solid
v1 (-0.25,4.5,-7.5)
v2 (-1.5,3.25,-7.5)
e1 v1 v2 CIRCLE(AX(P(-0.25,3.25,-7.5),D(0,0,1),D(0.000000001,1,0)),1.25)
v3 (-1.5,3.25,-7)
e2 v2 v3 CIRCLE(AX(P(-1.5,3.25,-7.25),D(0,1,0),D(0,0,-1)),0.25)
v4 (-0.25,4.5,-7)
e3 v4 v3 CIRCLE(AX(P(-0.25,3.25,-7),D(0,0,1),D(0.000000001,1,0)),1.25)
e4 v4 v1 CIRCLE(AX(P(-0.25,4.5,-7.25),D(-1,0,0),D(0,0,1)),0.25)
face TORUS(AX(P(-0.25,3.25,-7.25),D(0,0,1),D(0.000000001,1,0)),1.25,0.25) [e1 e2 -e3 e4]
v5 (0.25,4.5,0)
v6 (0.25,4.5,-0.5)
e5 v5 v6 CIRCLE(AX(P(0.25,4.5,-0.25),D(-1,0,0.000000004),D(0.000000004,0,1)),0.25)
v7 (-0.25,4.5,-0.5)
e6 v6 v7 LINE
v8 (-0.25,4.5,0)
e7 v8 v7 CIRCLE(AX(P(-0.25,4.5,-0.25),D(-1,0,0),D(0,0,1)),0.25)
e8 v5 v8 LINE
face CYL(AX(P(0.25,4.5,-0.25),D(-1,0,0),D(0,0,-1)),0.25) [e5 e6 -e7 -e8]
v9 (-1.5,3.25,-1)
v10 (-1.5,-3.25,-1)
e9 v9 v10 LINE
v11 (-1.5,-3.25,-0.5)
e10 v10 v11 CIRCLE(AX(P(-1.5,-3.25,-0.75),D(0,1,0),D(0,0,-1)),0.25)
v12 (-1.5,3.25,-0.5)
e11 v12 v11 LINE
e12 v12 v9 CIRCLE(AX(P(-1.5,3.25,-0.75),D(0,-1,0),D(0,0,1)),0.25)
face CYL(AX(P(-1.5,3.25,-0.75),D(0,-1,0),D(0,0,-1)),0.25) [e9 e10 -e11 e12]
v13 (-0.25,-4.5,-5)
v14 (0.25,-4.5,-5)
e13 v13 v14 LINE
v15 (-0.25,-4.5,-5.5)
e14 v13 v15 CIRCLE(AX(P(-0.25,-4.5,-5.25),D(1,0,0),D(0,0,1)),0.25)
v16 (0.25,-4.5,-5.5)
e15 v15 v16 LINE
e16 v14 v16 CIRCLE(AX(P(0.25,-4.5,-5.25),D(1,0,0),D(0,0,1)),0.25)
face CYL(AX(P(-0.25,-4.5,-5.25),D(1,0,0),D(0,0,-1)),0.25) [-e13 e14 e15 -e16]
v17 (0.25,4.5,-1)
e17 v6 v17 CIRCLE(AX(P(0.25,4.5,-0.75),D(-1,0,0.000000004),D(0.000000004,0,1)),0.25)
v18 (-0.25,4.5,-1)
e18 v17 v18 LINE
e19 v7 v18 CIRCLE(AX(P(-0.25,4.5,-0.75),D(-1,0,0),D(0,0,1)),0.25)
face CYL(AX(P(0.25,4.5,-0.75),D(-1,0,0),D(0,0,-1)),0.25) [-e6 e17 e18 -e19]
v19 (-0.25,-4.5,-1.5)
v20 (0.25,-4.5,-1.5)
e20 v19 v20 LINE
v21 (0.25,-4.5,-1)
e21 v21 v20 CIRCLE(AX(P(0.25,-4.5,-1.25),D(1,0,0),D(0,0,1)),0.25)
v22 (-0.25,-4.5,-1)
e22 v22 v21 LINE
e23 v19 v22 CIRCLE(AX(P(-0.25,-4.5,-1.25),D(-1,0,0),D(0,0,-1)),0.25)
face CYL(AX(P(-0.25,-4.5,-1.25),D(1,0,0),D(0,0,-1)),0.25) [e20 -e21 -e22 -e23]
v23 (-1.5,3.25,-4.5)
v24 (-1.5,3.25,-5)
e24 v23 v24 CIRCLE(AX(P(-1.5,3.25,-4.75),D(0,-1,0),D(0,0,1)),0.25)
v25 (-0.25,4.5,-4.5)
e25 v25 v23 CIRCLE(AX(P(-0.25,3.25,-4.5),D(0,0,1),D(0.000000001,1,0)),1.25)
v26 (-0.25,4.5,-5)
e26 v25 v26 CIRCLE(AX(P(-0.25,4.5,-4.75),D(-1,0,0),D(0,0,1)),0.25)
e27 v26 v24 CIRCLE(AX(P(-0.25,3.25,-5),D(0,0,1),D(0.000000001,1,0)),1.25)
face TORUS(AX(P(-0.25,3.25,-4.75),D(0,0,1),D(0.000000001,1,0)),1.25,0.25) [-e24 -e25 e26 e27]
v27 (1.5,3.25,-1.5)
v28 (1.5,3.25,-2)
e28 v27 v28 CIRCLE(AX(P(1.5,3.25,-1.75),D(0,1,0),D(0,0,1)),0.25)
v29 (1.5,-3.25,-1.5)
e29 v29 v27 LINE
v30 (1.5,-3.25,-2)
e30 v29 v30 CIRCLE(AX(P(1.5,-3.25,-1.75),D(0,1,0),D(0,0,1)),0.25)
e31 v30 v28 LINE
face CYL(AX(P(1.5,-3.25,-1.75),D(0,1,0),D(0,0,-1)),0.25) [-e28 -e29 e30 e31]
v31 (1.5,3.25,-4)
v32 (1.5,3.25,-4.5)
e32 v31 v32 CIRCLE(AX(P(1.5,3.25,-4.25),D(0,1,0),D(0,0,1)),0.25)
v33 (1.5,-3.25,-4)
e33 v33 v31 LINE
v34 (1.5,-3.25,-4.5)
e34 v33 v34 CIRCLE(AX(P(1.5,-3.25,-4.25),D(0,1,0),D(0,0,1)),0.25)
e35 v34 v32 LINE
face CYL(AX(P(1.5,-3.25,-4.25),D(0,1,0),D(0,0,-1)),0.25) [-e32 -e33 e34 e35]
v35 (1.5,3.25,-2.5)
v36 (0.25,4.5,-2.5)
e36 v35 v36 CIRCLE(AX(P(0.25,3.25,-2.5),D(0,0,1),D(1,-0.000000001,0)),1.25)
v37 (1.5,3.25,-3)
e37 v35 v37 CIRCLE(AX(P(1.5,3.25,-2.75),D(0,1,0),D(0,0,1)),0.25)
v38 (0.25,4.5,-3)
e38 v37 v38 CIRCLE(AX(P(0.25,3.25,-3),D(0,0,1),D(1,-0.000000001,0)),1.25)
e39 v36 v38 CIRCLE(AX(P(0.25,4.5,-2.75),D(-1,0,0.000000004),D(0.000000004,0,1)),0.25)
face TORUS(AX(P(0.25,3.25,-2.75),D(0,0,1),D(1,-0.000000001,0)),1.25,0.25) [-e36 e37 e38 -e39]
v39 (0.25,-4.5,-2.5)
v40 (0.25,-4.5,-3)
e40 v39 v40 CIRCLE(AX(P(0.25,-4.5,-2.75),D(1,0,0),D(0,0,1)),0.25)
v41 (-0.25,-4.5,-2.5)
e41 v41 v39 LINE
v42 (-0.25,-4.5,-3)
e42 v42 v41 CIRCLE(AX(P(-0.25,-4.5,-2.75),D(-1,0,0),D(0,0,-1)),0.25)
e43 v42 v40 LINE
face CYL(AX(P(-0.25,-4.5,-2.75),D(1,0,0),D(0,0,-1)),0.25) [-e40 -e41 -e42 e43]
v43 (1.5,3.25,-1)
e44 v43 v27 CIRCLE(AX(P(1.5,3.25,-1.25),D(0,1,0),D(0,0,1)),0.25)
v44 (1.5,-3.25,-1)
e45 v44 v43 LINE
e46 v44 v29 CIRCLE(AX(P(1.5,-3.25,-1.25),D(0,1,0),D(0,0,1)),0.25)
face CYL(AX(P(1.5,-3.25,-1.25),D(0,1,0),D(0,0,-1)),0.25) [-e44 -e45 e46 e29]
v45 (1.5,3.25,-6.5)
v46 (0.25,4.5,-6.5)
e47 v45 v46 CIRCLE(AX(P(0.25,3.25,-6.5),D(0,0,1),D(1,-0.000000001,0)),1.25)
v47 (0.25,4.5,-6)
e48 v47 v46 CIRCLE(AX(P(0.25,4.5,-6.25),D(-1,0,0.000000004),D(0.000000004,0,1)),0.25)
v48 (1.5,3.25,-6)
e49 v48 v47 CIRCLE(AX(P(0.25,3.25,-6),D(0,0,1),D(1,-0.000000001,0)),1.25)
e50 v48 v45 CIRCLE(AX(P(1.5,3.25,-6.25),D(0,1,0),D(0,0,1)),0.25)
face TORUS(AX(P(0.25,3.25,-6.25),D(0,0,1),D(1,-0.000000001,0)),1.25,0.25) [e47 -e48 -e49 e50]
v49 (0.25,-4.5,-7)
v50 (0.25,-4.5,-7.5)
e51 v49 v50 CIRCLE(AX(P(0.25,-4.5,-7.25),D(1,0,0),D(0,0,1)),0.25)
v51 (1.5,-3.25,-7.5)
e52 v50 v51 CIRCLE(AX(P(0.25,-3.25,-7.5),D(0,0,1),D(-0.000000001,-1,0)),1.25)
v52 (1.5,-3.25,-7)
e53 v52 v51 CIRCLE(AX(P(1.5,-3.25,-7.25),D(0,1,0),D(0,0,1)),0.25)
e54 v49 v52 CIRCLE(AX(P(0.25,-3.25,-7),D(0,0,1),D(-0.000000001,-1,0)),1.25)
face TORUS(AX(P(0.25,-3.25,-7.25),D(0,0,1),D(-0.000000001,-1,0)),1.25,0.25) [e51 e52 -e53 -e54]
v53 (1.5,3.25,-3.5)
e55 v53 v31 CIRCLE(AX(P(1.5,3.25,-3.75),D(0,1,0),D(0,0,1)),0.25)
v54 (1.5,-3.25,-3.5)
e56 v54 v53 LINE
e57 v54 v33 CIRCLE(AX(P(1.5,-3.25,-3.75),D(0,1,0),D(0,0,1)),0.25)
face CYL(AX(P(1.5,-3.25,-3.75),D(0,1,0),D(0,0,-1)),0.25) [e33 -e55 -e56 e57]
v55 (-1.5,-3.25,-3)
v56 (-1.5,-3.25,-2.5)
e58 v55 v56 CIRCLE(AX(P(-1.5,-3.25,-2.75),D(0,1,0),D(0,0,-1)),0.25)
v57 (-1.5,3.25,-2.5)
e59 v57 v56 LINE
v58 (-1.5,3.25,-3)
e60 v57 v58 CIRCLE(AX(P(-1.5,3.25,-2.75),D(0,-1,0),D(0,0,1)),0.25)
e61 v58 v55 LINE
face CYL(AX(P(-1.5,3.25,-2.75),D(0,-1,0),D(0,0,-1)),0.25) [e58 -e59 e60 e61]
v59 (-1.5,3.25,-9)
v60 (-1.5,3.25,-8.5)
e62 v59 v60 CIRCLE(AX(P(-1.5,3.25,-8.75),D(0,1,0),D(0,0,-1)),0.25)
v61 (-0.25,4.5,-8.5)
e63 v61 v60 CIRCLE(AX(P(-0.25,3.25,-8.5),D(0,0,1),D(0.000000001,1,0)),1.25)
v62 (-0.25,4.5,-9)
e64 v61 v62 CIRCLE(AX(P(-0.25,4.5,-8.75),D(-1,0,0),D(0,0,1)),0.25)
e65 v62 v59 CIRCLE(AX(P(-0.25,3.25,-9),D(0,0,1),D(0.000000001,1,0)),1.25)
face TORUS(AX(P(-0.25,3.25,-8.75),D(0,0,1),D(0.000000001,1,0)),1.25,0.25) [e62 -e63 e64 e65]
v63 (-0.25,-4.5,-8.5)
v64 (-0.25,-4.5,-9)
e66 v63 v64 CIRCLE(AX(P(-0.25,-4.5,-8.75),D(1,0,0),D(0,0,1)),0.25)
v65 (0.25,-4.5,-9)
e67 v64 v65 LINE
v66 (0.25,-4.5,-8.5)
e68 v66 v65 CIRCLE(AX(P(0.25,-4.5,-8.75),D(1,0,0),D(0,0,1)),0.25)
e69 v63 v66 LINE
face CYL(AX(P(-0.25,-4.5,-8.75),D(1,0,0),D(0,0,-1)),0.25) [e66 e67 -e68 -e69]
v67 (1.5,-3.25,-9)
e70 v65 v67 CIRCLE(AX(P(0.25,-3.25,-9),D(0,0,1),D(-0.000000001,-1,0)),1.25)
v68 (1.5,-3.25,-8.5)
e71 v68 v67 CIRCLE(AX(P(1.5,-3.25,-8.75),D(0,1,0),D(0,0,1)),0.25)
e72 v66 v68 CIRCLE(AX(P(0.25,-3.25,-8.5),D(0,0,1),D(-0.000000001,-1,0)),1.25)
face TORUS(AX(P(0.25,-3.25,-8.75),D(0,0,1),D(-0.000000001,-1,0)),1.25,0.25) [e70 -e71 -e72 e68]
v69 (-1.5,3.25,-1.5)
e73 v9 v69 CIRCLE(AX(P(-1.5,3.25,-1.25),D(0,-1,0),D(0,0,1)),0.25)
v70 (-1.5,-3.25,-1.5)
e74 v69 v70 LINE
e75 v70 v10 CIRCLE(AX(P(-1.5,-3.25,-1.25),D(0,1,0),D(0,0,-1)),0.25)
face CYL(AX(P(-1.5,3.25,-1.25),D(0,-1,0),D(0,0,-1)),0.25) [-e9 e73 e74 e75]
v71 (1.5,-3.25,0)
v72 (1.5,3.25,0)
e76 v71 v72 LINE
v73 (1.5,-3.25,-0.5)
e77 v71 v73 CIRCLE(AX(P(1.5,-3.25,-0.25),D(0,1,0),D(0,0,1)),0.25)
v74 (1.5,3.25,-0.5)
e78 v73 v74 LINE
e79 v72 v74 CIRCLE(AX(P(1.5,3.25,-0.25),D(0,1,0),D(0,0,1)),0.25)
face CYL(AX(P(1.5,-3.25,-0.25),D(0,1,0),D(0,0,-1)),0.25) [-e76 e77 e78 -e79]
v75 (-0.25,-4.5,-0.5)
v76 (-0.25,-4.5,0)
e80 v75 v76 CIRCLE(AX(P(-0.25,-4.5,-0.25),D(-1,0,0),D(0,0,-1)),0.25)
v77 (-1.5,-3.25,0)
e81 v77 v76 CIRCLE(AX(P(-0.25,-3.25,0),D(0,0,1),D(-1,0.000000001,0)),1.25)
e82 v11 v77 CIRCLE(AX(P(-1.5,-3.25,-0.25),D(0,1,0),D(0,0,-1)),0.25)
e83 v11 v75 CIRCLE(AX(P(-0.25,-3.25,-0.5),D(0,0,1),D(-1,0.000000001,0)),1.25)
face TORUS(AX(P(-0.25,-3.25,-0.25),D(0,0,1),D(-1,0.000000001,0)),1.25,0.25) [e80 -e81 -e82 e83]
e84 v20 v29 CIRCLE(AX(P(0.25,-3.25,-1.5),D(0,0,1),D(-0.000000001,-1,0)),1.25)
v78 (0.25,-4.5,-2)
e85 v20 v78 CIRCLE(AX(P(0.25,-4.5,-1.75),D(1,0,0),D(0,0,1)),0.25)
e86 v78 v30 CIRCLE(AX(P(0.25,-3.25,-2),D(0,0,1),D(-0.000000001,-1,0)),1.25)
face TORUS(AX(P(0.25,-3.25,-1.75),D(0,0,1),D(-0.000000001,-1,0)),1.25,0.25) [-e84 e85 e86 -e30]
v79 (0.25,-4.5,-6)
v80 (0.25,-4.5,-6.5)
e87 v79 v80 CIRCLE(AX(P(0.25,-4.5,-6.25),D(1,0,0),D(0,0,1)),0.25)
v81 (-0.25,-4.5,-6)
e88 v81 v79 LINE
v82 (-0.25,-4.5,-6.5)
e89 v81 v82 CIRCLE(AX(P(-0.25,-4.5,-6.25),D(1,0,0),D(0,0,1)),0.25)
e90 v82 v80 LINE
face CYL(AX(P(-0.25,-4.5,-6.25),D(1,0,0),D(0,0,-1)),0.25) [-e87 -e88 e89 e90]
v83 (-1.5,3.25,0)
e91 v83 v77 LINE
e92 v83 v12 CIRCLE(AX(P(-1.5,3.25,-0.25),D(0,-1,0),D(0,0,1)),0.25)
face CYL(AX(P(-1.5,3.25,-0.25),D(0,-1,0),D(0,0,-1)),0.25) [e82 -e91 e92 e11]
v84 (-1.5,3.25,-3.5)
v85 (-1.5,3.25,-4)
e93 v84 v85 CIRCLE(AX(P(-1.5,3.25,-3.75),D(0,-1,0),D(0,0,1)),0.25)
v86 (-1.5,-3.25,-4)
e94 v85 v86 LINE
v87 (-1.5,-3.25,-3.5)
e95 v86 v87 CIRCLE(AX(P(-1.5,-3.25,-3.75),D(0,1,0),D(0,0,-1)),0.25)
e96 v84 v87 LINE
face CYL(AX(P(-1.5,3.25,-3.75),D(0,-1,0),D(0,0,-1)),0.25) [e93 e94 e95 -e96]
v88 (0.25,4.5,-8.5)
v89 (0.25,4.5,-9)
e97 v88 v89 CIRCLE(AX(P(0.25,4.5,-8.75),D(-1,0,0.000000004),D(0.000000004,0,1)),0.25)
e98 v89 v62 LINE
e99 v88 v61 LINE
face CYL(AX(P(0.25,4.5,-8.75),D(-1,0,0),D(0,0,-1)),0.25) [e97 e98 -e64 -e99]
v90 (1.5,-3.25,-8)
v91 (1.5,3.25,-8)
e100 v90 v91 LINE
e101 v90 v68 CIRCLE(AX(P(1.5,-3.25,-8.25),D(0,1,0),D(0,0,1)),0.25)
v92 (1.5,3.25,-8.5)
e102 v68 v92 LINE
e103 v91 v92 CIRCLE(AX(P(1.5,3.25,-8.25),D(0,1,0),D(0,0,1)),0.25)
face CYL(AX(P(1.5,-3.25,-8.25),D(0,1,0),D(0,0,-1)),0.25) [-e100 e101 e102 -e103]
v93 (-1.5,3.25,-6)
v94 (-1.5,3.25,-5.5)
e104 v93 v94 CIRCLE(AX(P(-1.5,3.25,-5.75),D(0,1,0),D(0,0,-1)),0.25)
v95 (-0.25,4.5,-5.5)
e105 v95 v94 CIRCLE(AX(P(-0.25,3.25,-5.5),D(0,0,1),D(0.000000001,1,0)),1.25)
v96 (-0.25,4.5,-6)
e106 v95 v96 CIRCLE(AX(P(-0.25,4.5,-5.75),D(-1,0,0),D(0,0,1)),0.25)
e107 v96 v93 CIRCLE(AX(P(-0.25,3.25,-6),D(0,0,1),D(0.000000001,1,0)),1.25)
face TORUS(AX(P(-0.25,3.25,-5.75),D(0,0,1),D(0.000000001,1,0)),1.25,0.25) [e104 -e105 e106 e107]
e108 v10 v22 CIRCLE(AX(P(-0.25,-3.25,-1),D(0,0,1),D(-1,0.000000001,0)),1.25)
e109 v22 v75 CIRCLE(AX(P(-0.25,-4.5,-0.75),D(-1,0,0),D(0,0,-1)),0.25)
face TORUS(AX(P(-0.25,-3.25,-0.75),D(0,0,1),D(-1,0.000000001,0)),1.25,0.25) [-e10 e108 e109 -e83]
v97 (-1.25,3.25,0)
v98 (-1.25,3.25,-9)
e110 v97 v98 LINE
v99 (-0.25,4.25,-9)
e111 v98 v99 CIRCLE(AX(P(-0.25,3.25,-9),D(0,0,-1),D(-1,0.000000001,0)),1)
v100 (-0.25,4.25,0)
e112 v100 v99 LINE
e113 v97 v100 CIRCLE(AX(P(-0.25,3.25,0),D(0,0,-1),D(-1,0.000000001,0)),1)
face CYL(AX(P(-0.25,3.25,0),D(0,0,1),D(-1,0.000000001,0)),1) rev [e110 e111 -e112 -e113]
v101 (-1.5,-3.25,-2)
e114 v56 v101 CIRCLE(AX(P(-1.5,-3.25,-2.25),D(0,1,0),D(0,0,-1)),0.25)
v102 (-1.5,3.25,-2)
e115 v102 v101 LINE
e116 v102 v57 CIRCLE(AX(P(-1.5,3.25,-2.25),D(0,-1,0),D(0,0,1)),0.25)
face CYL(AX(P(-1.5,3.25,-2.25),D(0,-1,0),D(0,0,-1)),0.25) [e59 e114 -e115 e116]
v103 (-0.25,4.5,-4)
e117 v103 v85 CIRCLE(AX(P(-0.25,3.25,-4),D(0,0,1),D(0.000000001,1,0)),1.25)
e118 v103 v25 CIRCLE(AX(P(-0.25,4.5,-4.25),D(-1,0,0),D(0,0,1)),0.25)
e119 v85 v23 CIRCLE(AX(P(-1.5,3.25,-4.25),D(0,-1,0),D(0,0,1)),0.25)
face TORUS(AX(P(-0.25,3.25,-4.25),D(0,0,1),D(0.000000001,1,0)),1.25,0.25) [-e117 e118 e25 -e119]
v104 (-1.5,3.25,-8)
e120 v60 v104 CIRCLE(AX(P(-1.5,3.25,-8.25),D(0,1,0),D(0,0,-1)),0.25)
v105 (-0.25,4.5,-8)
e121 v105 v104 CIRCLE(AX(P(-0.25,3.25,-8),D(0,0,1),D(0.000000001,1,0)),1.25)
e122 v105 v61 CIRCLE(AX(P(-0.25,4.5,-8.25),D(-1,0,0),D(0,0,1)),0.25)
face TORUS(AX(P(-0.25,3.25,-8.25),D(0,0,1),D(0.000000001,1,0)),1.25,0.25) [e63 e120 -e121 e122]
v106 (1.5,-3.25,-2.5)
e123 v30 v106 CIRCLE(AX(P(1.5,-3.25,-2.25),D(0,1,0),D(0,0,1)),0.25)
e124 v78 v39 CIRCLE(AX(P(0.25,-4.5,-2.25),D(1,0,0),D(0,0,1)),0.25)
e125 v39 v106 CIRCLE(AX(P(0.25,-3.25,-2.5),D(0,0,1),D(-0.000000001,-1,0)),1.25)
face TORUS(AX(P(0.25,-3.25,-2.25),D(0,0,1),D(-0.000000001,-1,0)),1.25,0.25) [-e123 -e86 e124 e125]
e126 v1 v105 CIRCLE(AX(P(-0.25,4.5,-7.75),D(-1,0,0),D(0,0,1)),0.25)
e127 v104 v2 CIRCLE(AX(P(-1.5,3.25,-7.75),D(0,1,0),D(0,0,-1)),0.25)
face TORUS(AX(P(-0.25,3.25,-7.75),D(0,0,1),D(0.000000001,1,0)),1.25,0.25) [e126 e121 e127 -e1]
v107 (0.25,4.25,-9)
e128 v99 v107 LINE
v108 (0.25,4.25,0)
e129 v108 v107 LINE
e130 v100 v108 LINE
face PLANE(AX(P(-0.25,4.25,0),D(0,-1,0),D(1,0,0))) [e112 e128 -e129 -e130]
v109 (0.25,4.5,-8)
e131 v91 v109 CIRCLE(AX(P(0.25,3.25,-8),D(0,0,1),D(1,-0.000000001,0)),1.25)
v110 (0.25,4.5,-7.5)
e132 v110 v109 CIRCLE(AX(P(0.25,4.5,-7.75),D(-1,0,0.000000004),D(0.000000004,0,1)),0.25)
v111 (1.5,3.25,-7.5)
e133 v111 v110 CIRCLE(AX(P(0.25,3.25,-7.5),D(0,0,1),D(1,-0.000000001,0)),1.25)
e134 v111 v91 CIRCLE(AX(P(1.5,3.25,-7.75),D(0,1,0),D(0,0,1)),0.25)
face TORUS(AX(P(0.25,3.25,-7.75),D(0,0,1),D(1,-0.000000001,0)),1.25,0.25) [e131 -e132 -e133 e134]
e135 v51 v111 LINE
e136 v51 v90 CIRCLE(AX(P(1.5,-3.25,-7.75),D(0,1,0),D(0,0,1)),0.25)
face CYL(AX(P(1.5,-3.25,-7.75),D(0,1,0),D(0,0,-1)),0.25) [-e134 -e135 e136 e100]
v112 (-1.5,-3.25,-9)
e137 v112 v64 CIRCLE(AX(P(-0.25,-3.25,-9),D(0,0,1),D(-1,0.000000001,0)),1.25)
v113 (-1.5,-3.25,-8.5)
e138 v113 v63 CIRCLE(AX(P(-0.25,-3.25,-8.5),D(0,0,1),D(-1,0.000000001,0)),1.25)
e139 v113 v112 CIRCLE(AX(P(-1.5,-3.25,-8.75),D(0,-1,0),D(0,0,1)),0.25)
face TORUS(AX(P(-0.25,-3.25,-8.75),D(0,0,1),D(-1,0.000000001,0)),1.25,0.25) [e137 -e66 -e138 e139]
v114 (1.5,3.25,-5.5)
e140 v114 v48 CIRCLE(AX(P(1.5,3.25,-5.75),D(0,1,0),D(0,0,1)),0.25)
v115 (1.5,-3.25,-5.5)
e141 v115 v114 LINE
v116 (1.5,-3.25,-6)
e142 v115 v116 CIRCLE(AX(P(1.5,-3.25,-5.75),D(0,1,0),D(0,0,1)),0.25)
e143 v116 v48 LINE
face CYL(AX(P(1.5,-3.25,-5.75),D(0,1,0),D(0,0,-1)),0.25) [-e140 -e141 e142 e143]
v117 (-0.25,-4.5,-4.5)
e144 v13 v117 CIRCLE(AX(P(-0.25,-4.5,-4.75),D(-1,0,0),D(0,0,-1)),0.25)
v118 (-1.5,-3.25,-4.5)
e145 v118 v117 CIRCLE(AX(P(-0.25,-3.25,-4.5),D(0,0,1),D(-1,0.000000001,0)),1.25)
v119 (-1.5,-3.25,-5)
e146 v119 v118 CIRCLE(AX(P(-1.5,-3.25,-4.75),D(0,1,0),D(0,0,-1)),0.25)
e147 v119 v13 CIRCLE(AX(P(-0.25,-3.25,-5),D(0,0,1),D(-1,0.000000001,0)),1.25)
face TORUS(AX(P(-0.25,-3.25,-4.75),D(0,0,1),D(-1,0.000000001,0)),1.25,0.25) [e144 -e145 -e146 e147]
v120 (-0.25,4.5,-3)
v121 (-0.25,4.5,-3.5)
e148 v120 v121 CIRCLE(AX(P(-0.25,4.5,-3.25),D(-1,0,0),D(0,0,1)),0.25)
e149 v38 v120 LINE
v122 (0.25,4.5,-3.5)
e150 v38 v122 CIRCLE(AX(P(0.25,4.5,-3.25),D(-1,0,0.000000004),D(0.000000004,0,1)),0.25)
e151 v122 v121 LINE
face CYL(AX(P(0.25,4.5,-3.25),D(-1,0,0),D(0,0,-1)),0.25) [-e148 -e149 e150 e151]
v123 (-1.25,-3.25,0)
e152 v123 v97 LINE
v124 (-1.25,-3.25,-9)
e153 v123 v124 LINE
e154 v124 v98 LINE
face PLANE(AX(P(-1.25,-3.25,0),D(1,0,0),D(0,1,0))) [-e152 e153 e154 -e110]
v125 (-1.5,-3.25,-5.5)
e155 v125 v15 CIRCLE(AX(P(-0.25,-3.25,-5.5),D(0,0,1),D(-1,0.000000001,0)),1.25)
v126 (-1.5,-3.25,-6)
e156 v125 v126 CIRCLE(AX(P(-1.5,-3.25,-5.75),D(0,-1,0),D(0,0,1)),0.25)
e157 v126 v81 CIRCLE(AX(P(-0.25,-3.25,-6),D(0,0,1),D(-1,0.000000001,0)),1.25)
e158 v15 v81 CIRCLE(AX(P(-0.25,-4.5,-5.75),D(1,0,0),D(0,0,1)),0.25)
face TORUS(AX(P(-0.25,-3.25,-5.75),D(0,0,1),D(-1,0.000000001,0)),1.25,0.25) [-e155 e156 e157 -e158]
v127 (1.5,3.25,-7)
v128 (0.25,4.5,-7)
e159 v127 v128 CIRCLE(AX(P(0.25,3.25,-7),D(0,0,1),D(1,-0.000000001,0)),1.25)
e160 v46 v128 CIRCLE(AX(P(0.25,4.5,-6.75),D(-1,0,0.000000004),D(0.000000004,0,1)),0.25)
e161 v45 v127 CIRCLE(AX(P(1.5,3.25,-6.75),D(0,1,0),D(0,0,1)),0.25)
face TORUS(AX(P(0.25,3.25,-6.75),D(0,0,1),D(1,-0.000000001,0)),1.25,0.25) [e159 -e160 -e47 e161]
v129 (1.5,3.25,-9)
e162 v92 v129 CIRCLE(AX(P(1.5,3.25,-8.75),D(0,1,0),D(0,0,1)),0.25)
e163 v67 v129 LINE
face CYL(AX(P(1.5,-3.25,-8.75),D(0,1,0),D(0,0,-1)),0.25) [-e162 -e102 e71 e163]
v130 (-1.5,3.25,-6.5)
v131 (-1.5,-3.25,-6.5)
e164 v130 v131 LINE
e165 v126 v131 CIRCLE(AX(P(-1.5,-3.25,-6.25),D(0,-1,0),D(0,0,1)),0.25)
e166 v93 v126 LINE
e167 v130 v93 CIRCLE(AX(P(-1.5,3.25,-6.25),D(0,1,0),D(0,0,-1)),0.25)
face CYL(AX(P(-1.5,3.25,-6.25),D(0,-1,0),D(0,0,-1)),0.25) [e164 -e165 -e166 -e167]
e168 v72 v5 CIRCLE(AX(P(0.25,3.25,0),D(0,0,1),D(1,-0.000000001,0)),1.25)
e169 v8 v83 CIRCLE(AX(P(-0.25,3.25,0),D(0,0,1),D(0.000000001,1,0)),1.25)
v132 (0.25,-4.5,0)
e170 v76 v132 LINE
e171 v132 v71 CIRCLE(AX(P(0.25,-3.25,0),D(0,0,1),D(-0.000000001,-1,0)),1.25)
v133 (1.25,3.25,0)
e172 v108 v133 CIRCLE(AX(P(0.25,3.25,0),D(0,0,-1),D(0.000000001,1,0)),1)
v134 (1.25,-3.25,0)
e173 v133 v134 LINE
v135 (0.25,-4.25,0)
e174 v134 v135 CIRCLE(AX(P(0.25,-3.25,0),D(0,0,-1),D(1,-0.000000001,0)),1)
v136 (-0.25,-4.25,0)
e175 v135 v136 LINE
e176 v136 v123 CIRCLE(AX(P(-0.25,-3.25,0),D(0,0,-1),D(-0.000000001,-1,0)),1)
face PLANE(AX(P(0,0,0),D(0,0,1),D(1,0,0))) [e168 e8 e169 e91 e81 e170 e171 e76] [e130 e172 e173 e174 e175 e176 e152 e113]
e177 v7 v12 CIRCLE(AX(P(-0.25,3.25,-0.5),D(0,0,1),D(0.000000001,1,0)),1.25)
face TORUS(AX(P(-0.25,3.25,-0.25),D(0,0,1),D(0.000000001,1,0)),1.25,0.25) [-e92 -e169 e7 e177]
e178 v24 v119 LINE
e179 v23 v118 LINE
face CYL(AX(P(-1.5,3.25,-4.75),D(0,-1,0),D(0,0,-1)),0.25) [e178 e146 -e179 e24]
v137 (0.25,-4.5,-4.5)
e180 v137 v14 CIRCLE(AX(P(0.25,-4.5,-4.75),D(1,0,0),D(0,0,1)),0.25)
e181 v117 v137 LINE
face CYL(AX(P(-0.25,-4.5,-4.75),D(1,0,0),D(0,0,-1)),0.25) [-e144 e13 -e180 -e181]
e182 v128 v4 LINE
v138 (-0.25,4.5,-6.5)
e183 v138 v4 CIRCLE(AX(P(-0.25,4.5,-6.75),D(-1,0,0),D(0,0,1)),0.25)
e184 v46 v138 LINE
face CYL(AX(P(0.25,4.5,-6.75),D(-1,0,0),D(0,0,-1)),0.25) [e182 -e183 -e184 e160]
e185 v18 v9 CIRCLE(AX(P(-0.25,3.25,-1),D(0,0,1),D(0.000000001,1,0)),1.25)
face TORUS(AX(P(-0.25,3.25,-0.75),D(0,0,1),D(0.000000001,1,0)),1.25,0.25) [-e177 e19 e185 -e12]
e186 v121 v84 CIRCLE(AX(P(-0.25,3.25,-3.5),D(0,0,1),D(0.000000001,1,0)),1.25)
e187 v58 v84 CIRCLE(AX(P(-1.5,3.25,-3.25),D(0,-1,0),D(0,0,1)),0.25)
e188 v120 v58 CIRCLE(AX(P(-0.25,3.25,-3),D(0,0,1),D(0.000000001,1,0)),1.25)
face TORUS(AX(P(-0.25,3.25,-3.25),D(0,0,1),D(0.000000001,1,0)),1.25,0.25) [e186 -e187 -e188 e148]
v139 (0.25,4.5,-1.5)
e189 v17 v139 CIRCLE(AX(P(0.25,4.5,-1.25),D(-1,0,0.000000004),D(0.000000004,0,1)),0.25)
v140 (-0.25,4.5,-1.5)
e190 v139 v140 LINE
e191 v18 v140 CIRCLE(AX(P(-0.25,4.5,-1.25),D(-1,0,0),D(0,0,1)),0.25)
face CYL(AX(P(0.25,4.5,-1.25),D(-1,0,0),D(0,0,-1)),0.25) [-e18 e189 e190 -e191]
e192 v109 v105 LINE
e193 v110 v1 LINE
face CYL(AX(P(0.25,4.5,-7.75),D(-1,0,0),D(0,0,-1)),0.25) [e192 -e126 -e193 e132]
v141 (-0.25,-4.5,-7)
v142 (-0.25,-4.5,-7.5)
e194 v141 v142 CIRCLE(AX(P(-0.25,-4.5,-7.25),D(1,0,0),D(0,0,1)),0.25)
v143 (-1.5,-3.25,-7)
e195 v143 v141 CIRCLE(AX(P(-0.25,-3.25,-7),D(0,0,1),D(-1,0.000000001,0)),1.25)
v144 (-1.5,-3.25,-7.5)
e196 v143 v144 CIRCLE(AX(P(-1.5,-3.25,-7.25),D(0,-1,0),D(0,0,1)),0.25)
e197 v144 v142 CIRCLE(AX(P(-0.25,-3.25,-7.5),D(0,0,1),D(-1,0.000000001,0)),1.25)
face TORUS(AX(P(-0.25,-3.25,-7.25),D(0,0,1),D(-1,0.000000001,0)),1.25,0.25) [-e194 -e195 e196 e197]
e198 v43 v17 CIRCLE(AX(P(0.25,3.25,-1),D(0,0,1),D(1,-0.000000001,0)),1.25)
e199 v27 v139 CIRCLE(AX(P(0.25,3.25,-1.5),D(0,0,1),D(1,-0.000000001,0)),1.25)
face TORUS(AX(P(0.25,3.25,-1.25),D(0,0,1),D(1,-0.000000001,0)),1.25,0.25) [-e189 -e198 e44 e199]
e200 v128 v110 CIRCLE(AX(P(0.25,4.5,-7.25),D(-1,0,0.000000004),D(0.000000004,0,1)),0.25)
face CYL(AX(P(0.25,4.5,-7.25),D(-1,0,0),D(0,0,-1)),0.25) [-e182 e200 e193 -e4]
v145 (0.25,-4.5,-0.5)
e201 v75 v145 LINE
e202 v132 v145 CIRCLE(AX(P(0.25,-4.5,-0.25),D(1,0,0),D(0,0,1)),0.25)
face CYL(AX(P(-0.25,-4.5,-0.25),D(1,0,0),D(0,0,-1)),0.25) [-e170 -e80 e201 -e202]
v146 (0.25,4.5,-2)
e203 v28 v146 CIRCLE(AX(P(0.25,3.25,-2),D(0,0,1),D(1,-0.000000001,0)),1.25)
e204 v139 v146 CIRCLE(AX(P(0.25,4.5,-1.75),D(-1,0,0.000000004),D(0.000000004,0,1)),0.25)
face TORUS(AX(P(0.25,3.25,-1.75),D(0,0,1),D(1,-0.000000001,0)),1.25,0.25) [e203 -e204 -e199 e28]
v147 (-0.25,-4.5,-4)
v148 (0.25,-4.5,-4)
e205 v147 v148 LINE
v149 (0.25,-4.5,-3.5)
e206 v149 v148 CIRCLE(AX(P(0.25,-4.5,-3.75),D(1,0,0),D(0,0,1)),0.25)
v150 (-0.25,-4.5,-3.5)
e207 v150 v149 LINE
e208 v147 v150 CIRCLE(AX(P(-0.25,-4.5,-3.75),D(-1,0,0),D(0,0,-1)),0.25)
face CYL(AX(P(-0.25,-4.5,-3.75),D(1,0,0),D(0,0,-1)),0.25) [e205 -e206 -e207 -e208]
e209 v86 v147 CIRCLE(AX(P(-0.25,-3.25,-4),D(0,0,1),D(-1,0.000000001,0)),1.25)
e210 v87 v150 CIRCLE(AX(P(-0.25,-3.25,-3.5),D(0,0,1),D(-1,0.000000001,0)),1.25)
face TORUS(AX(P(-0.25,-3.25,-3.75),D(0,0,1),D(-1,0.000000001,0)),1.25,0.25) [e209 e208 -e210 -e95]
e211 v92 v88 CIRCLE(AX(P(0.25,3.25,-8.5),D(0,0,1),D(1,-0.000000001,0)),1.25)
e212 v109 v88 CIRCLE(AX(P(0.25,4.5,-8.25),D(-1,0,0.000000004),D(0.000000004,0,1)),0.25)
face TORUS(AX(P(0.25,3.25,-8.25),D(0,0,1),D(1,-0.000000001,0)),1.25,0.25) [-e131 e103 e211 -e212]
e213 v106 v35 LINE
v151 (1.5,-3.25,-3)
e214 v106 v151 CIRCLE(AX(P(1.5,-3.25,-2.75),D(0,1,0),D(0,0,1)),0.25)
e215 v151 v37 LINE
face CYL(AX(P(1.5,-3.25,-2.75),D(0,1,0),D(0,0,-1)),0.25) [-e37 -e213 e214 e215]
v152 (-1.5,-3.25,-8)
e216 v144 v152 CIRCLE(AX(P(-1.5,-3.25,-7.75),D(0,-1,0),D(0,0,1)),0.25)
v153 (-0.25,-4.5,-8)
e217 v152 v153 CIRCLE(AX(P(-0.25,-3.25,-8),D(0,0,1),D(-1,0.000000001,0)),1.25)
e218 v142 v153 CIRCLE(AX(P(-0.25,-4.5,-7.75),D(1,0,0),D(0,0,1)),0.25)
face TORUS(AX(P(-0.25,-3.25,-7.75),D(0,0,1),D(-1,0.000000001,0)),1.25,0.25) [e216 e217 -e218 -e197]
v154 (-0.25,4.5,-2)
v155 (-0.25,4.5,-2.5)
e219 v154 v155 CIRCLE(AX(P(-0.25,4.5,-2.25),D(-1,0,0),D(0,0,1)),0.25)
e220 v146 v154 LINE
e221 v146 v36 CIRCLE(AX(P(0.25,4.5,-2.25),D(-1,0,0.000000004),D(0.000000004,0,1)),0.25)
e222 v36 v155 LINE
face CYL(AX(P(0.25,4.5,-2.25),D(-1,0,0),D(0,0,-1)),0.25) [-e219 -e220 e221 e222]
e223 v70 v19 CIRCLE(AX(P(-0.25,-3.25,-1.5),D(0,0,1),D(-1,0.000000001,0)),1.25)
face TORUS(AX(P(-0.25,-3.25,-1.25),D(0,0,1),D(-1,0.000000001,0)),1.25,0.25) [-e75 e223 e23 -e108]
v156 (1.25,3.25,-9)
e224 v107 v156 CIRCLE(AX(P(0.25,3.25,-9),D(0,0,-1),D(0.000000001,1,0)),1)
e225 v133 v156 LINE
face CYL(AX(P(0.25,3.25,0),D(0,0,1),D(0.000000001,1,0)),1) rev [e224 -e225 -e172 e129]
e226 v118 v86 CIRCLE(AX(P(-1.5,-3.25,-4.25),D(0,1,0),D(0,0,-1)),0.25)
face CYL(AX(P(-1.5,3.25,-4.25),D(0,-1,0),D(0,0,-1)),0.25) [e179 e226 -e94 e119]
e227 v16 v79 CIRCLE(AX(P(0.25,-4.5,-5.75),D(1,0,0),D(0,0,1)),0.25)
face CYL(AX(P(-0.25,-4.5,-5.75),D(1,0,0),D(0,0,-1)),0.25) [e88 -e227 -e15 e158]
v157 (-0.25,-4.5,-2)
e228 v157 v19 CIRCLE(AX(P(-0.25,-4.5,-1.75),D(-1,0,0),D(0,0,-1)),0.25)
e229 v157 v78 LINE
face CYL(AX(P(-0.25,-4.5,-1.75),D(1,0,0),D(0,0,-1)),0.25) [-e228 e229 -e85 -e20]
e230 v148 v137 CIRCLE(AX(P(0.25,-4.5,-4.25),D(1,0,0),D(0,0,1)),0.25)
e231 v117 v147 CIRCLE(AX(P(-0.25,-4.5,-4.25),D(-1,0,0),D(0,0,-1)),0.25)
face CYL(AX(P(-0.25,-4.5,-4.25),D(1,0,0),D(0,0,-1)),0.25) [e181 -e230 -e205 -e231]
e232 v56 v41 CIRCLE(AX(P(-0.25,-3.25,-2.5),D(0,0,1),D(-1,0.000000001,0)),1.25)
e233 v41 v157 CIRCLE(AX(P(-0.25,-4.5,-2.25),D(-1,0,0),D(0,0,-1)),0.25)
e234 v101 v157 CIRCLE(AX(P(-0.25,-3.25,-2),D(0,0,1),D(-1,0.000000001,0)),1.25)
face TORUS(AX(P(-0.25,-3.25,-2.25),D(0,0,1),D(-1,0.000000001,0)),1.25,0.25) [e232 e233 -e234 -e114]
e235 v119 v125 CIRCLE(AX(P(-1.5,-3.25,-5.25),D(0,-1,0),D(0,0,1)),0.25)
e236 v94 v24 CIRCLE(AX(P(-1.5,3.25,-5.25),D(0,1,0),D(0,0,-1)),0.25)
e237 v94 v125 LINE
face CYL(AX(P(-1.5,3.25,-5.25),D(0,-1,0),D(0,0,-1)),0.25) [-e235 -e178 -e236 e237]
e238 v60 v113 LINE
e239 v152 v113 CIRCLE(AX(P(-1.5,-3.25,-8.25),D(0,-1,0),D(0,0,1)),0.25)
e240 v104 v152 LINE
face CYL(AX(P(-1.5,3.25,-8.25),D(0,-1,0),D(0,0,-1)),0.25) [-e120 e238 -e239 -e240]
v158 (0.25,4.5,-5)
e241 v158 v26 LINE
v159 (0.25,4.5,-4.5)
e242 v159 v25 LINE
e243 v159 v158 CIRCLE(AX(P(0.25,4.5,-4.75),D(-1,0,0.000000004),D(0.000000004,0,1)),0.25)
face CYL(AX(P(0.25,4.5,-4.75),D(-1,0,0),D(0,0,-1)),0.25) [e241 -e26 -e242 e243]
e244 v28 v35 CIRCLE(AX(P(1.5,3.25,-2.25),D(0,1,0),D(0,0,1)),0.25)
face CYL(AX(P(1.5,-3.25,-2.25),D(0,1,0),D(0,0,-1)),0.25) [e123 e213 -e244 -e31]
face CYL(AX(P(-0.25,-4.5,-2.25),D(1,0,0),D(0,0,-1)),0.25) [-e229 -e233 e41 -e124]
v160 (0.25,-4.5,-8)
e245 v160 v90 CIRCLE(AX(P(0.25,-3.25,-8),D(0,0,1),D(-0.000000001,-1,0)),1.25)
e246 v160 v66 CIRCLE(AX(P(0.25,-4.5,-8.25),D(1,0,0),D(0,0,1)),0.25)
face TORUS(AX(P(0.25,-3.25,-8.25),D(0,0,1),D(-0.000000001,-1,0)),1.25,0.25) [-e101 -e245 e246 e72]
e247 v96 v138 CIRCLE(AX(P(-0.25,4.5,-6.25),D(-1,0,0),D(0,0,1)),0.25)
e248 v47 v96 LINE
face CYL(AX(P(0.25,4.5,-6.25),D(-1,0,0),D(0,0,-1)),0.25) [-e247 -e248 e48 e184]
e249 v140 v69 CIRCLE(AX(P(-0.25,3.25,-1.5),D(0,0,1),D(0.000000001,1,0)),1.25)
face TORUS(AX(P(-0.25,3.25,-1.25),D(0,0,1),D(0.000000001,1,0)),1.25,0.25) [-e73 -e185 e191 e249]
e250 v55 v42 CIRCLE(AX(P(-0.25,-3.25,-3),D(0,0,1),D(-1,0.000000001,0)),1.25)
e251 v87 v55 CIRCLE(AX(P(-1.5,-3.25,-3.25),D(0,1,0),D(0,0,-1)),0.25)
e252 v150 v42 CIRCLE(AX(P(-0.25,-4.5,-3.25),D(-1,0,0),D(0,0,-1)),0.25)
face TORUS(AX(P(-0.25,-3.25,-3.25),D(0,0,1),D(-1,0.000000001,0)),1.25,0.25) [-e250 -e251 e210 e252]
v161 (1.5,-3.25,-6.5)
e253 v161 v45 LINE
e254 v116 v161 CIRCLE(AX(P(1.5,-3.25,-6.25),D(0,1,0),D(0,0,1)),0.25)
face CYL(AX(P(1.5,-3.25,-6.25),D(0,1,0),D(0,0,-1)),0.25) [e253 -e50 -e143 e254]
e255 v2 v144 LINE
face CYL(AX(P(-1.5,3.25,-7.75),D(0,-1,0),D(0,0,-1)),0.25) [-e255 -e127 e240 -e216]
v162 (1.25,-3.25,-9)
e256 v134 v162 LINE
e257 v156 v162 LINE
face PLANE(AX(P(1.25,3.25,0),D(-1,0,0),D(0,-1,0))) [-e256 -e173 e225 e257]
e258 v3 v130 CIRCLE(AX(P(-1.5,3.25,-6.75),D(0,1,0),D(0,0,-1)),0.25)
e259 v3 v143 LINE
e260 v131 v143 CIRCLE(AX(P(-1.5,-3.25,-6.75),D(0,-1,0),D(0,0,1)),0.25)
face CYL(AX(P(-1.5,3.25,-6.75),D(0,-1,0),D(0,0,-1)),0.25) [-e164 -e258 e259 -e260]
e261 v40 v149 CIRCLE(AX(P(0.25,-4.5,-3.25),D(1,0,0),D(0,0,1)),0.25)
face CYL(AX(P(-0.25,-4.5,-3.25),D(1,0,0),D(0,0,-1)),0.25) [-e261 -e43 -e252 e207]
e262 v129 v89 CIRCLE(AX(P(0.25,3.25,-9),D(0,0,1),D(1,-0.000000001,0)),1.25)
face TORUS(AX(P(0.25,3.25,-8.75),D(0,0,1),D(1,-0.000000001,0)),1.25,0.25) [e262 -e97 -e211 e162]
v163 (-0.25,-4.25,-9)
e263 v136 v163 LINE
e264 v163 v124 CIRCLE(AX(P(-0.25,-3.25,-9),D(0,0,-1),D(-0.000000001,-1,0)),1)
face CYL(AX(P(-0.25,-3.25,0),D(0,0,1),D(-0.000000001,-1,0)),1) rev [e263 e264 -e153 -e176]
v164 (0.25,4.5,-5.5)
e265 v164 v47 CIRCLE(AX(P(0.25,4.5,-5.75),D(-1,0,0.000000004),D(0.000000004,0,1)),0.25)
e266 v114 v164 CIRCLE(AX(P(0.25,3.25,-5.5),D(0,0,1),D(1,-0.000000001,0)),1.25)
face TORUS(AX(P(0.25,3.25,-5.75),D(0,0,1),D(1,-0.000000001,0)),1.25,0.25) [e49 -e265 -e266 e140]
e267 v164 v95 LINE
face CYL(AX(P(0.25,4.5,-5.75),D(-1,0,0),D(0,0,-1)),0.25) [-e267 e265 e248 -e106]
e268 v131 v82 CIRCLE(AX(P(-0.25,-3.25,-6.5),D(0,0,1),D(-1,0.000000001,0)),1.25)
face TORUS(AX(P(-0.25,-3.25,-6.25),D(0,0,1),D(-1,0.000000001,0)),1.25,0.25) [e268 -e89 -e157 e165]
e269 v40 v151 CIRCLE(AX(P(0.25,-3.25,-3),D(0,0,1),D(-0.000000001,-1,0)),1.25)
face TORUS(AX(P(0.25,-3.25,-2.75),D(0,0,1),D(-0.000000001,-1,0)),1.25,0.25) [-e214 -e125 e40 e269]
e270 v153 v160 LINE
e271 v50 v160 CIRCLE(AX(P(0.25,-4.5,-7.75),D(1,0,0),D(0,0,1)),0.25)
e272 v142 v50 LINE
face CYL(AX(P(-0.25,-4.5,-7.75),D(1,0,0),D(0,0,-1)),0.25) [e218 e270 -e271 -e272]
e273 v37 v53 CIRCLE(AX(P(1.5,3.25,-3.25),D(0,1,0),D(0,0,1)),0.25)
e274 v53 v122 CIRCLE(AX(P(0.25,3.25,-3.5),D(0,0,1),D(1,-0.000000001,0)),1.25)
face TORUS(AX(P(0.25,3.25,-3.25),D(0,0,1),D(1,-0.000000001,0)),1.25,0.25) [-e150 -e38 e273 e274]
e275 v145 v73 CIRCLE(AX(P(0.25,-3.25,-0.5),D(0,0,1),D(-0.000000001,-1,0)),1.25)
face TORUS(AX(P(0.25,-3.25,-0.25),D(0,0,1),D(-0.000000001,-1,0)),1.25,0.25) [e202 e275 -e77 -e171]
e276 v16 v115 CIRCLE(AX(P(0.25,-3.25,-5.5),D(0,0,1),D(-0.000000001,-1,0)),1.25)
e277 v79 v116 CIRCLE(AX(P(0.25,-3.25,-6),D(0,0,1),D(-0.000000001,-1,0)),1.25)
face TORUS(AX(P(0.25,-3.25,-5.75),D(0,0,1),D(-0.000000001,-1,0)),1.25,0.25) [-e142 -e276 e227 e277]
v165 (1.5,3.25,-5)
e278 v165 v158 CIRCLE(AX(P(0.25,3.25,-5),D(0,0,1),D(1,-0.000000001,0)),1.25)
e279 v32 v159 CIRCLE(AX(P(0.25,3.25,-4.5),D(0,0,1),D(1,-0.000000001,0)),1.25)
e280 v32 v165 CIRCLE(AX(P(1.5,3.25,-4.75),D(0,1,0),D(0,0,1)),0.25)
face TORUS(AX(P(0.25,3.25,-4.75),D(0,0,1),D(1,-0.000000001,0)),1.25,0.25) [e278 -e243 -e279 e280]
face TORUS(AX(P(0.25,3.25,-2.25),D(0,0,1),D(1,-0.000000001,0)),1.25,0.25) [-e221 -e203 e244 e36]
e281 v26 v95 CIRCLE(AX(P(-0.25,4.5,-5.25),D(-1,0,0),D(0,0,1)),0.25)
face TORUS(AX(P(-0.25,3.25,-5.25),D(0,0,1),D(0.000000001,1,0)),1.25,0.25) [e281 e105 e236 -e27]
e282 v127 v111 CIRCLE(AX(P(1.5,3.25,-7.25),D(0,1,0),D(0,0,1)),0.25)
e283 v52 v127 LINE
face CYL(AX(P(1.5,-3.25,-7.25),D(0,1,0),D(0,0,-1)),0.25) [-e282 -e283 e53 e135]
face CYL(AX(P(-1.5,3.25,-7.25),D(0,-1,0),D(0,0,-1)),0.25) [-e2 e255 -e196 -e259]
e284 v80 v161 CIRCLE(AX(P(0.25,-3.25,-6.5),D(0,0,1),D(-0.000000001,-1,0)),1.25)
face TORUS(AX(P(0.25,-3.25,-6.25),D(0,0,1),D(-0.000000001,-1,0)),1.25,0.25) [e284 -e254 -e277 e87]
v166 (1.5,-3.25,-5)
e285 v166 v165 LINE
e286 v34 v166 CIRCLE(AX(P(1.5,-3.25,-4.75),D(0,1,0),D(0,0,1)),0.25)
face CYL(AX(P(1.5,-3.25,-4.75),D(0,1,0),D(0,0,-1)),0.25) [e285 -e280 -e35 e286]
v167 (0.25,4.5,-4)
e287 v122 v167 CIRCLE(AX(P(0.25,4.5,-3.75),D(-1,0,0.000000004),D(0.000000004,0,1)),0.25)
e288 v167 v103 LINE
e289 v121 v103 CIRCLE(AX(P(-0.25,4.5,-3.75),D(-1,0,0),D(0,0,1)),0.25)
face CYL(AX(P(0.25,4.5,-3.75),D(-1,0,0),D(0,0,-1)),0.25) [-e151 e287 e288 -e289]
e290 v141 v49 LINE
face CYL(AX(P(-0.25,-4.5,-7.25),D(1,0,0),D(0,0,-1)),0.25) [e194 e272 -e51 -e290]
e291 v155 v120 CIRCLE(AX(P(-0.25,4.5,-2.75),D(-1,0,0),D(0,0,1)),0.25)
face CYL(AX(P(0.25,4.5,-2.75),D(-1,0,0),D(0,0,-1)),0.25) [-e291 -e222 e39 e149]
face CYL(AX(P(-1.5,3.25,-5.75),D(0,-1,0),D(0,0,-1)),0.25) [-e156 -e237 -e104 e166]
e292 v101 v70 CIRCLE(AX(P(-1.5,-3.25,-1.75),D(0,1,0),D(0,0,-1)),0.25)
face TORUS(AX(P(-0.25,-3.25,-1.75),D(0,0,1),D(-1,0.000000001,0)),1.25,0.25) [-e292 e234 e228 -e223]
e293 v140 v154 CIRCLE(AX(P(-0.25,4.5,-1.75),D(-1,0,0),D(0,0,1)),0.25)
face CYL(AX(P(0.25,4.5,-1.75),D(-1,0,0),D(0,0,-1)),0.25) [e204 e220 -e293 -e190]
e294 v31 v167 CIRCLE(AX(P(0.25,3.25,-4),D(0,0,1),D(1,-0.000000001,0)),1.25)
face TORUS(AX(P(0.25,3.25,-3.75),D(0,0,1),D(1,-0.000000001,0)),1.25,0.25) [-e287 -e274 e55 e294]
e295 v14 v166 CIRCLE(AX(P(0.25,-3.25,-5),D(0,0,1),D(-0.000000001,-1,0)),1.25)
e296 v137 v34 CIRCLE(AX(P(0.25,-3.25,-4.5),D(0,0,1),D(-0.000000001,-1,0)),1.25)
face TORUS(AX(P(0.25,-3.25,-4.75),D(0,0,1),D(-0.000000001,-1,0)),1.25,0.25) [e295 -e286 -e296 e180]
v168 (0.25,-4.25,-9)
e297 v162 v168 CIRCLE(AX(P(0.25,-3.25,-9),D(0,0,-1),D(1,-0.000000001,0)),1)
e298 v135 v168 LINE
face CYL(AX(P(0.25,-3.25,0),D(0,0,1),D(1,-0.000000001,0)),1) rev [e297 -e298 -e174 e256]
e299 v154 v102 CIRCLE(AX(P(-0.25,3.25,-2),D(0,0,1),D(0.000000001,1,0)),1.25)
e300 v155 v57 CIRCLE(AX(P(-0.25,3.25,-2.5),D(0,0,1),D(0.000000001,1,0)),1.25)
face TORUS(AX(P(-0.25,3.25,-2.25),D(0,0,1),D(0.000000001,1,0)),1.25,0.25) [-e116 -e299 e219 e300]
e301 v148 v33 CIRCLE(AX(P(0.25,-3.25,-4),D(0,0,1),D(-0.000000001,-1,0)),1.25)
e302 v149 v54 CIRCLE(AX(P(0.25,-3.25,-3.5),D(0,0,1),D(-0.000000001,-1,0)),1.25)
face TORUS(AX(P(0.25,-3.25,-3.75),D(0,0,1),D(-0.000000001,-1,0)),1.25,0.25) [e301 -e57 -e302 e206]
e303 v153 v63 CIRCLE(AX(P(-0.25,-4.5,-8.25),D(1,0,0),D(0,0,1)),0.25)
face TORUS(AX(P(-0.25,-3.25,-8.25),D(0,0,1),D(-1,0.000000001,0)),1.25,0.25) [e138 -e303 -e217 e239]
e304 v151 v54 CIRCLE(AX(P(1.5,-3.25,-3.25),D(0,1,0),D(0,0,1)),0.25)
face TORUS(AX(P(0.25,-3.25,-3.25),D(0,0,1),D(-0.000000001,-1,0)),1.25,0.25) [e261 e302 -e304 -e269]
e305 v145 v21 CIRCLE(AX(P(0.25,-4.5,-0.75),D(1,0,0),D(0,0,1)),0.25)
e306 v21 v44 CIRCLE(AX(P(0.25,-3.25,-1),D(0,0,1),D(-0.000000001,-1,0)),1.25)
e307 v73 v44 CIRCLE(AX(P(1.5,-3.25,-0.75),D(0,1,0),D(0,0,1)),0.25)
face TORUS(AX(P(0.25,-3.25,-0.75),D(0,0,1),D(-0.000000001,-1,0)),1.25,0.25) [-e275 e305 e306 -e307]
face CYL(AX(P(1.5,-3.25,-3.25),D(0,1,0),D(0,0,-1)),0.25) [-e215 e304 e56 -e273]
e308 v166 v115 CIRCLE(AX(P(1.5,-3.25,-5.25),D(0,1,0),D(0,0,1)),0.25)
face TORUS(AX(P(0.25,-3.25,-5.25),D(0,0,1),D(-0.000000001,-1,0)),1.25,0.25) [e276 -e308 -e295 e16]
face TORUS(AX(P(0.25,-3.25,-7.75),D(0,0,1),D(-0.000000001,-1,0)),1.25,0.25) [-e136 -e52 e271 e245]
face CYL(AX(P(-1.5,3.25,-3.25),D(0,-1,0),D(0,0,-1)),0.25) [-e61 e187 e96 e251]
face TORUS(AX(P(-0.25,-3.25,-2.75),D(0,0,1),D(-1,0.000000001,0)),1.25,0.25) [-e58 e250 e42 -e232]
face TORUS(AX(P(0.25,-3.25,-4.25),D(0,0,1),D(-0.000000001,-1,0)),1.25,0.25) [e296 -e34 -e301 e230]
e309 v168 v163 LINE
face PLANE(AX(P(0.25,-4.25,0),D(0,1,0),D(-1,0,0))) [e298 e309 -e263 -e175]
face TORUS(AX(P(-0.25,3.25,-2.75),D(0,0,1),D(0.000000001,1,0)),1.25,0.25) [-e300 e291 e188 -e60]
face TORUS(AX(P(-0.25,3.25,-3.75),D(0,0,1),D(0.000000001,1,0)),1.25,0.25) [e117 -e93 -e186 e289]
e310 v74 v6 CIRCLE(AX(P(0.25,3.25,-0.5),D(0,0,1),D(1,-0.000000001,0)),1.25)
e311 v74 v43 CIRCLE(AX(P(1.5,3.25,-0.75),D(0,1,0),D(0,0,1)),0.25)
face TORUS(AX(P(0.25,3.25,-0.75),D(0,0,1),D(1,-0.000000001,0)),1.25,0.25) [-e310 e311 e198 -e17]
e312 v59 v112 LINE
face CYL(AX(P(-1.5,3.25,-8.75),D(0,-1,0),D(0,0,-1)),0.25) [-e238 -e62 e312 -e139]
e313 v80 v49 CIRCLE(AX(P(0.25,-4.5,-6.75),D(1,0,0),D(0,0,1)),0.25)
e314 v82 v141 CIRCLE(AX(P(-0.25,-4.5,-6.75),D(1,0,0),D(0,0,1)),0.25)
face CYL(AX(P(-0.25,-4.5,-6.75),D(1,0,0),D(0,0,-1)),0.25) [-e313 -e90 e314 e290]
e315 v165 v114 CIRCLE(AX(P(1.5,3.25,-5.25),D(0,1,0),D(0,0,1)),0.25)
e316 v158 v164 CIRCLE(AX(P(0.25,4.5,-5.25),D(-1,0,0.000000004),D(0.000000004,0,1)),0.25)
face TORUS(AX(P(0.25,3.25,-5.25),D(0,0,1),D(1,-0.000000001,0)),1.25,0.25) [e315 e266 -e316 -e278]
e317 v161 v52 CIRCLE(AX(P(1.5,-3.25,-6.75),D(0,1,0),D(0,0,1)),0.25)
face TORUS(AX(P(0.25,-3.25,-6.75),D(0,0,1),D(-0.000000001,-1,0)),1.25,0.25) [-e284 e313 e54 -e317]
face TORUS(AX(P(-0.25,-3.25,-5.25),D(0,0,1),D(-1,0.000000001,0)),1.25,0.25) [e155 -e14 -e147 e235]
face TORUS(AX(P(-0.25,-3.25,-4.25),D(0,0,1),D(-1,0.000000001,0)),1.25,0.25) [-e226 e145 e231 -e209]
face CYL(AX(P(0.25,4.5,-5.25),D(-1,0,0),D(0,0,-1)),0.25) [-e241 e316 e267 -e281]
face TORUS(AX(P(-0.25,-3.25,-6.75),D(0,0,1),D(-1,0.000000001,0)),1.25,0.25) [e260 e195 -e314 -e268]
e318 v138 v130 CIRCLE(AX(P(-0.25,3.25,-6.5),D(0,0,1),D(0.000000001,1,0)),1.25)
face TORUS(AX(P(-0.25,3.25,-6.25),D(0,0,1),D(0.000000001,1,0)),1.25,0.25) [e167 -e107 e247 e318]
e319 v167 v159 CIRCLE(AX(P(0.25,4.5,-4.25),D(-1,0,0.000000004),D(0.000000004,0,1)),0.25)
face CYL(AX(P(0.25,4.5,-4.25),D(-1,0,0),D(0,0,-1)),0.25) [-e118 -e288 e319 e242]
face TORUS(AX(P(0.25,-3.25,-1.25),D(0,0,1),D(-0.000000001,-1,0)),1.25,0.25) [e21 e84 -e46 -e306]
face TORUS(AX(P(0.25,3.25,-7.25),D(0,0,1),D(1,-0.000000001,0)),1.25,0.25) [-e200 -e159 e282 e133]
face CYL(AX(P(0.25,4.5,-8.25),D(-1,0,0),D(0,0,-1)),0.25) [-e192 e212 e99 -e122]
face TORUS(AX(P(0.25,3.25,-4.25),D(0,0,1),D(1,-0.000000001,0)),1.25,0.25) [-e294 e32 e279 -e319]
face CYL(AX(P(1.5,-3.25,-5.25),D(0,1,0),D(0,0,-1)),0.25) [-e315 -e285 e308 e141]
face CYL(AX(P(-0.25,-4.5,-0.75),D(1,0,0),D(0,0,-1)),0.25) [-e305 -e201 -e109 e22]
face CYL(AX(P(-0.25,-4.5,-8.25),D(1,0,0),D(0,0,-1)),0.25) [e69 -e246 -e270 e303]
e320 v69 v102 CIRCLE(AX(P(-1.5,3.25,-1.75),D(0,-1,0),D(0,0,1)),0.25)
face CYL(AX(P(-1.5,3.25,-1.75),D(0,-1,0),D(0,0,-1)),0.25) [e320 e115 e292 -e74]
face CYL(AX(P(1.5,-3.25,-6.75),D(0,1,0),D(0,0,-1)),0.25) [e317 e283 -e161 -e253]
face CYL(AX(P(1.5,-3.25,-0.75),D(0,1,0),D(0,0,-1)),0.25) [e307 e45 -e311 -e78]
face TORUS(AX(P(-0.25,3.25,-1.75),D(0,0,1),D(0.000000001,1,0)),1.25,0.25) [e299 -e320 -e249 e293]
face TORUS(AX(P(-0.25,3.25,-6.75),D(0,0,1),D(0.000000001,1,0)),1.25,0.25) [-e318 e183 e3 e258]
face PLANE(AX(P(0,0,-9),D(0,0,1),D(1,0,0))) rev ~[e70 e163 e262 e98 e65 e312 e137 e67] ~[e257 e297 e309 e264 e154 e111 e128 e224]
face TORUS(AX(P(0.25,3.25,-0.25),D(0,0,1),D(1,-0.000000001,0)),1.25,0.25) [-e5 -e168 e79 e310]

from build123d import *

# Parameters (mm, degrees)
BOSS_EXTRUDE1_DEPTH = 9
LPATTERN1_COUNT     = 18
LPATTERN1_PITCH     = 0.5


with BuildPart() as part:
    # Sketch1 → Boss-Extrude1 (new body)
    with BuildSketch(Plane.XY):
        with BuildLine():
            Line((-1.75, 3.25), (-1.75, -3.25))
            ThreePointArc((-1.75, -3.25), (-1.310660172, -4.310660172), (-0.25, -4.75))
            Line((-0.25, -4.75), (0.25, -4.75))
            ThreePointArc((0.25, -4.75), (1.310660172, -4.310660172), (1.75, -3.25))
            Line((1.75, -3.25), (1.75, 3.25))
            ThreePointArc((1.75, 3.25), (1.310660172, 4.310660172), (0.25, 4.75))
            Line((0.25, 4.75), (-0.25, 4.75))
            ThreePointArc((-0.25, 4.75), (-1.310660172, 4.310660172), (-1.75, 3.25))
        make_face()
        with BuildLine():
            Line((-0.25, 4.25), (0.25, 4.25))
            ThreePointArc((0.25, 4.25), (0.957106781, 3.957106781), (1.25, 3.25))
            Line((1.25, 3.25), (1.25, -3.25))
            ThreePointArc((1.25, -3.25), (0.957106781, -3.957106781), (0.25, -4.25))
            Line((0.25, -4.25), (-0.25, -4.25))
            ThreePointArc((-0.25, -4.25), (-0.957106781, -3.957106781), (-1.25, -3.25))
            Line((-1.25, -3.25), (-1.25, 3.25))
            ThreePointArc((-1.25, 3.25), (-0.957106781, 3.957106781), (-0.25, 4.25))
        make_face(mode=Mode.SUBTRACT)
    extrude(amount=-BOSS_EXTRUDE1_DEPTH)

    # Cut-Sweep3: sweep along a path in Sketch3
    with BuildLine(Plane.XY) as cut_sweep3_path:
        Line((0.25, 4.75), (-0.25, 4.75))
        ThreePointArc((-0.25, 4.75), (-1.310660172, 4.310660172), (-1.75, 3.25))
        Line((-1.75, 3.25), (-1.75, -3.25))
        ThreePointArc((-1.75, -3.25), (-1.310660172, -4.310660172), (-0.25, -4.75))
        Line((-0.25, -4.75), (0.25, -4.75))
        ThreePointArc((0.25, -4.75), (1.310660172, -4.310660172), (1.75, -3.25))
        Line((1.75, -3.25), (1.75, 3.25))
        ThreePointArc((1.75, 3.25), (1.310660172, 4.310660172), (0.25, 4.75))
    # Sketch2 → Cut-Sweep3 (sweep, cut)
    with BuildSketch(Plane(origin=(0, 0, 0), x_dir=(0, 0, -1), z_dir=(1, 0, 0))):
        with BuildLine():
            Line((0.5, 4.75), (0.5, 4.5))
            ThreePointArc((0.5, 4.5), (0.25, 4.75), (0, 4.5))
            Line((0, 4.5), (0, 4.75))
            Line((0, 4.75), (0, 5.25))
            Line((0, 5.25), (0.5, 5.25))
            Line((0.5, 5.25), (0.5, 4.75))
        make_face()
    cut_sweep3 = sweep(path=cut_sweep3_path.line, mode=Mode.SUBTRACT)

    # LPattern1: Cut-Sweep3 ×18
    with Locations(*[(0, 0, -i * LPATTERN1_PITCH) for i in range(1, LPATTERN1_COUNT)]):
        add(cut_sweep3, mode=Mode.SUBTRACT)


solid = part.part
